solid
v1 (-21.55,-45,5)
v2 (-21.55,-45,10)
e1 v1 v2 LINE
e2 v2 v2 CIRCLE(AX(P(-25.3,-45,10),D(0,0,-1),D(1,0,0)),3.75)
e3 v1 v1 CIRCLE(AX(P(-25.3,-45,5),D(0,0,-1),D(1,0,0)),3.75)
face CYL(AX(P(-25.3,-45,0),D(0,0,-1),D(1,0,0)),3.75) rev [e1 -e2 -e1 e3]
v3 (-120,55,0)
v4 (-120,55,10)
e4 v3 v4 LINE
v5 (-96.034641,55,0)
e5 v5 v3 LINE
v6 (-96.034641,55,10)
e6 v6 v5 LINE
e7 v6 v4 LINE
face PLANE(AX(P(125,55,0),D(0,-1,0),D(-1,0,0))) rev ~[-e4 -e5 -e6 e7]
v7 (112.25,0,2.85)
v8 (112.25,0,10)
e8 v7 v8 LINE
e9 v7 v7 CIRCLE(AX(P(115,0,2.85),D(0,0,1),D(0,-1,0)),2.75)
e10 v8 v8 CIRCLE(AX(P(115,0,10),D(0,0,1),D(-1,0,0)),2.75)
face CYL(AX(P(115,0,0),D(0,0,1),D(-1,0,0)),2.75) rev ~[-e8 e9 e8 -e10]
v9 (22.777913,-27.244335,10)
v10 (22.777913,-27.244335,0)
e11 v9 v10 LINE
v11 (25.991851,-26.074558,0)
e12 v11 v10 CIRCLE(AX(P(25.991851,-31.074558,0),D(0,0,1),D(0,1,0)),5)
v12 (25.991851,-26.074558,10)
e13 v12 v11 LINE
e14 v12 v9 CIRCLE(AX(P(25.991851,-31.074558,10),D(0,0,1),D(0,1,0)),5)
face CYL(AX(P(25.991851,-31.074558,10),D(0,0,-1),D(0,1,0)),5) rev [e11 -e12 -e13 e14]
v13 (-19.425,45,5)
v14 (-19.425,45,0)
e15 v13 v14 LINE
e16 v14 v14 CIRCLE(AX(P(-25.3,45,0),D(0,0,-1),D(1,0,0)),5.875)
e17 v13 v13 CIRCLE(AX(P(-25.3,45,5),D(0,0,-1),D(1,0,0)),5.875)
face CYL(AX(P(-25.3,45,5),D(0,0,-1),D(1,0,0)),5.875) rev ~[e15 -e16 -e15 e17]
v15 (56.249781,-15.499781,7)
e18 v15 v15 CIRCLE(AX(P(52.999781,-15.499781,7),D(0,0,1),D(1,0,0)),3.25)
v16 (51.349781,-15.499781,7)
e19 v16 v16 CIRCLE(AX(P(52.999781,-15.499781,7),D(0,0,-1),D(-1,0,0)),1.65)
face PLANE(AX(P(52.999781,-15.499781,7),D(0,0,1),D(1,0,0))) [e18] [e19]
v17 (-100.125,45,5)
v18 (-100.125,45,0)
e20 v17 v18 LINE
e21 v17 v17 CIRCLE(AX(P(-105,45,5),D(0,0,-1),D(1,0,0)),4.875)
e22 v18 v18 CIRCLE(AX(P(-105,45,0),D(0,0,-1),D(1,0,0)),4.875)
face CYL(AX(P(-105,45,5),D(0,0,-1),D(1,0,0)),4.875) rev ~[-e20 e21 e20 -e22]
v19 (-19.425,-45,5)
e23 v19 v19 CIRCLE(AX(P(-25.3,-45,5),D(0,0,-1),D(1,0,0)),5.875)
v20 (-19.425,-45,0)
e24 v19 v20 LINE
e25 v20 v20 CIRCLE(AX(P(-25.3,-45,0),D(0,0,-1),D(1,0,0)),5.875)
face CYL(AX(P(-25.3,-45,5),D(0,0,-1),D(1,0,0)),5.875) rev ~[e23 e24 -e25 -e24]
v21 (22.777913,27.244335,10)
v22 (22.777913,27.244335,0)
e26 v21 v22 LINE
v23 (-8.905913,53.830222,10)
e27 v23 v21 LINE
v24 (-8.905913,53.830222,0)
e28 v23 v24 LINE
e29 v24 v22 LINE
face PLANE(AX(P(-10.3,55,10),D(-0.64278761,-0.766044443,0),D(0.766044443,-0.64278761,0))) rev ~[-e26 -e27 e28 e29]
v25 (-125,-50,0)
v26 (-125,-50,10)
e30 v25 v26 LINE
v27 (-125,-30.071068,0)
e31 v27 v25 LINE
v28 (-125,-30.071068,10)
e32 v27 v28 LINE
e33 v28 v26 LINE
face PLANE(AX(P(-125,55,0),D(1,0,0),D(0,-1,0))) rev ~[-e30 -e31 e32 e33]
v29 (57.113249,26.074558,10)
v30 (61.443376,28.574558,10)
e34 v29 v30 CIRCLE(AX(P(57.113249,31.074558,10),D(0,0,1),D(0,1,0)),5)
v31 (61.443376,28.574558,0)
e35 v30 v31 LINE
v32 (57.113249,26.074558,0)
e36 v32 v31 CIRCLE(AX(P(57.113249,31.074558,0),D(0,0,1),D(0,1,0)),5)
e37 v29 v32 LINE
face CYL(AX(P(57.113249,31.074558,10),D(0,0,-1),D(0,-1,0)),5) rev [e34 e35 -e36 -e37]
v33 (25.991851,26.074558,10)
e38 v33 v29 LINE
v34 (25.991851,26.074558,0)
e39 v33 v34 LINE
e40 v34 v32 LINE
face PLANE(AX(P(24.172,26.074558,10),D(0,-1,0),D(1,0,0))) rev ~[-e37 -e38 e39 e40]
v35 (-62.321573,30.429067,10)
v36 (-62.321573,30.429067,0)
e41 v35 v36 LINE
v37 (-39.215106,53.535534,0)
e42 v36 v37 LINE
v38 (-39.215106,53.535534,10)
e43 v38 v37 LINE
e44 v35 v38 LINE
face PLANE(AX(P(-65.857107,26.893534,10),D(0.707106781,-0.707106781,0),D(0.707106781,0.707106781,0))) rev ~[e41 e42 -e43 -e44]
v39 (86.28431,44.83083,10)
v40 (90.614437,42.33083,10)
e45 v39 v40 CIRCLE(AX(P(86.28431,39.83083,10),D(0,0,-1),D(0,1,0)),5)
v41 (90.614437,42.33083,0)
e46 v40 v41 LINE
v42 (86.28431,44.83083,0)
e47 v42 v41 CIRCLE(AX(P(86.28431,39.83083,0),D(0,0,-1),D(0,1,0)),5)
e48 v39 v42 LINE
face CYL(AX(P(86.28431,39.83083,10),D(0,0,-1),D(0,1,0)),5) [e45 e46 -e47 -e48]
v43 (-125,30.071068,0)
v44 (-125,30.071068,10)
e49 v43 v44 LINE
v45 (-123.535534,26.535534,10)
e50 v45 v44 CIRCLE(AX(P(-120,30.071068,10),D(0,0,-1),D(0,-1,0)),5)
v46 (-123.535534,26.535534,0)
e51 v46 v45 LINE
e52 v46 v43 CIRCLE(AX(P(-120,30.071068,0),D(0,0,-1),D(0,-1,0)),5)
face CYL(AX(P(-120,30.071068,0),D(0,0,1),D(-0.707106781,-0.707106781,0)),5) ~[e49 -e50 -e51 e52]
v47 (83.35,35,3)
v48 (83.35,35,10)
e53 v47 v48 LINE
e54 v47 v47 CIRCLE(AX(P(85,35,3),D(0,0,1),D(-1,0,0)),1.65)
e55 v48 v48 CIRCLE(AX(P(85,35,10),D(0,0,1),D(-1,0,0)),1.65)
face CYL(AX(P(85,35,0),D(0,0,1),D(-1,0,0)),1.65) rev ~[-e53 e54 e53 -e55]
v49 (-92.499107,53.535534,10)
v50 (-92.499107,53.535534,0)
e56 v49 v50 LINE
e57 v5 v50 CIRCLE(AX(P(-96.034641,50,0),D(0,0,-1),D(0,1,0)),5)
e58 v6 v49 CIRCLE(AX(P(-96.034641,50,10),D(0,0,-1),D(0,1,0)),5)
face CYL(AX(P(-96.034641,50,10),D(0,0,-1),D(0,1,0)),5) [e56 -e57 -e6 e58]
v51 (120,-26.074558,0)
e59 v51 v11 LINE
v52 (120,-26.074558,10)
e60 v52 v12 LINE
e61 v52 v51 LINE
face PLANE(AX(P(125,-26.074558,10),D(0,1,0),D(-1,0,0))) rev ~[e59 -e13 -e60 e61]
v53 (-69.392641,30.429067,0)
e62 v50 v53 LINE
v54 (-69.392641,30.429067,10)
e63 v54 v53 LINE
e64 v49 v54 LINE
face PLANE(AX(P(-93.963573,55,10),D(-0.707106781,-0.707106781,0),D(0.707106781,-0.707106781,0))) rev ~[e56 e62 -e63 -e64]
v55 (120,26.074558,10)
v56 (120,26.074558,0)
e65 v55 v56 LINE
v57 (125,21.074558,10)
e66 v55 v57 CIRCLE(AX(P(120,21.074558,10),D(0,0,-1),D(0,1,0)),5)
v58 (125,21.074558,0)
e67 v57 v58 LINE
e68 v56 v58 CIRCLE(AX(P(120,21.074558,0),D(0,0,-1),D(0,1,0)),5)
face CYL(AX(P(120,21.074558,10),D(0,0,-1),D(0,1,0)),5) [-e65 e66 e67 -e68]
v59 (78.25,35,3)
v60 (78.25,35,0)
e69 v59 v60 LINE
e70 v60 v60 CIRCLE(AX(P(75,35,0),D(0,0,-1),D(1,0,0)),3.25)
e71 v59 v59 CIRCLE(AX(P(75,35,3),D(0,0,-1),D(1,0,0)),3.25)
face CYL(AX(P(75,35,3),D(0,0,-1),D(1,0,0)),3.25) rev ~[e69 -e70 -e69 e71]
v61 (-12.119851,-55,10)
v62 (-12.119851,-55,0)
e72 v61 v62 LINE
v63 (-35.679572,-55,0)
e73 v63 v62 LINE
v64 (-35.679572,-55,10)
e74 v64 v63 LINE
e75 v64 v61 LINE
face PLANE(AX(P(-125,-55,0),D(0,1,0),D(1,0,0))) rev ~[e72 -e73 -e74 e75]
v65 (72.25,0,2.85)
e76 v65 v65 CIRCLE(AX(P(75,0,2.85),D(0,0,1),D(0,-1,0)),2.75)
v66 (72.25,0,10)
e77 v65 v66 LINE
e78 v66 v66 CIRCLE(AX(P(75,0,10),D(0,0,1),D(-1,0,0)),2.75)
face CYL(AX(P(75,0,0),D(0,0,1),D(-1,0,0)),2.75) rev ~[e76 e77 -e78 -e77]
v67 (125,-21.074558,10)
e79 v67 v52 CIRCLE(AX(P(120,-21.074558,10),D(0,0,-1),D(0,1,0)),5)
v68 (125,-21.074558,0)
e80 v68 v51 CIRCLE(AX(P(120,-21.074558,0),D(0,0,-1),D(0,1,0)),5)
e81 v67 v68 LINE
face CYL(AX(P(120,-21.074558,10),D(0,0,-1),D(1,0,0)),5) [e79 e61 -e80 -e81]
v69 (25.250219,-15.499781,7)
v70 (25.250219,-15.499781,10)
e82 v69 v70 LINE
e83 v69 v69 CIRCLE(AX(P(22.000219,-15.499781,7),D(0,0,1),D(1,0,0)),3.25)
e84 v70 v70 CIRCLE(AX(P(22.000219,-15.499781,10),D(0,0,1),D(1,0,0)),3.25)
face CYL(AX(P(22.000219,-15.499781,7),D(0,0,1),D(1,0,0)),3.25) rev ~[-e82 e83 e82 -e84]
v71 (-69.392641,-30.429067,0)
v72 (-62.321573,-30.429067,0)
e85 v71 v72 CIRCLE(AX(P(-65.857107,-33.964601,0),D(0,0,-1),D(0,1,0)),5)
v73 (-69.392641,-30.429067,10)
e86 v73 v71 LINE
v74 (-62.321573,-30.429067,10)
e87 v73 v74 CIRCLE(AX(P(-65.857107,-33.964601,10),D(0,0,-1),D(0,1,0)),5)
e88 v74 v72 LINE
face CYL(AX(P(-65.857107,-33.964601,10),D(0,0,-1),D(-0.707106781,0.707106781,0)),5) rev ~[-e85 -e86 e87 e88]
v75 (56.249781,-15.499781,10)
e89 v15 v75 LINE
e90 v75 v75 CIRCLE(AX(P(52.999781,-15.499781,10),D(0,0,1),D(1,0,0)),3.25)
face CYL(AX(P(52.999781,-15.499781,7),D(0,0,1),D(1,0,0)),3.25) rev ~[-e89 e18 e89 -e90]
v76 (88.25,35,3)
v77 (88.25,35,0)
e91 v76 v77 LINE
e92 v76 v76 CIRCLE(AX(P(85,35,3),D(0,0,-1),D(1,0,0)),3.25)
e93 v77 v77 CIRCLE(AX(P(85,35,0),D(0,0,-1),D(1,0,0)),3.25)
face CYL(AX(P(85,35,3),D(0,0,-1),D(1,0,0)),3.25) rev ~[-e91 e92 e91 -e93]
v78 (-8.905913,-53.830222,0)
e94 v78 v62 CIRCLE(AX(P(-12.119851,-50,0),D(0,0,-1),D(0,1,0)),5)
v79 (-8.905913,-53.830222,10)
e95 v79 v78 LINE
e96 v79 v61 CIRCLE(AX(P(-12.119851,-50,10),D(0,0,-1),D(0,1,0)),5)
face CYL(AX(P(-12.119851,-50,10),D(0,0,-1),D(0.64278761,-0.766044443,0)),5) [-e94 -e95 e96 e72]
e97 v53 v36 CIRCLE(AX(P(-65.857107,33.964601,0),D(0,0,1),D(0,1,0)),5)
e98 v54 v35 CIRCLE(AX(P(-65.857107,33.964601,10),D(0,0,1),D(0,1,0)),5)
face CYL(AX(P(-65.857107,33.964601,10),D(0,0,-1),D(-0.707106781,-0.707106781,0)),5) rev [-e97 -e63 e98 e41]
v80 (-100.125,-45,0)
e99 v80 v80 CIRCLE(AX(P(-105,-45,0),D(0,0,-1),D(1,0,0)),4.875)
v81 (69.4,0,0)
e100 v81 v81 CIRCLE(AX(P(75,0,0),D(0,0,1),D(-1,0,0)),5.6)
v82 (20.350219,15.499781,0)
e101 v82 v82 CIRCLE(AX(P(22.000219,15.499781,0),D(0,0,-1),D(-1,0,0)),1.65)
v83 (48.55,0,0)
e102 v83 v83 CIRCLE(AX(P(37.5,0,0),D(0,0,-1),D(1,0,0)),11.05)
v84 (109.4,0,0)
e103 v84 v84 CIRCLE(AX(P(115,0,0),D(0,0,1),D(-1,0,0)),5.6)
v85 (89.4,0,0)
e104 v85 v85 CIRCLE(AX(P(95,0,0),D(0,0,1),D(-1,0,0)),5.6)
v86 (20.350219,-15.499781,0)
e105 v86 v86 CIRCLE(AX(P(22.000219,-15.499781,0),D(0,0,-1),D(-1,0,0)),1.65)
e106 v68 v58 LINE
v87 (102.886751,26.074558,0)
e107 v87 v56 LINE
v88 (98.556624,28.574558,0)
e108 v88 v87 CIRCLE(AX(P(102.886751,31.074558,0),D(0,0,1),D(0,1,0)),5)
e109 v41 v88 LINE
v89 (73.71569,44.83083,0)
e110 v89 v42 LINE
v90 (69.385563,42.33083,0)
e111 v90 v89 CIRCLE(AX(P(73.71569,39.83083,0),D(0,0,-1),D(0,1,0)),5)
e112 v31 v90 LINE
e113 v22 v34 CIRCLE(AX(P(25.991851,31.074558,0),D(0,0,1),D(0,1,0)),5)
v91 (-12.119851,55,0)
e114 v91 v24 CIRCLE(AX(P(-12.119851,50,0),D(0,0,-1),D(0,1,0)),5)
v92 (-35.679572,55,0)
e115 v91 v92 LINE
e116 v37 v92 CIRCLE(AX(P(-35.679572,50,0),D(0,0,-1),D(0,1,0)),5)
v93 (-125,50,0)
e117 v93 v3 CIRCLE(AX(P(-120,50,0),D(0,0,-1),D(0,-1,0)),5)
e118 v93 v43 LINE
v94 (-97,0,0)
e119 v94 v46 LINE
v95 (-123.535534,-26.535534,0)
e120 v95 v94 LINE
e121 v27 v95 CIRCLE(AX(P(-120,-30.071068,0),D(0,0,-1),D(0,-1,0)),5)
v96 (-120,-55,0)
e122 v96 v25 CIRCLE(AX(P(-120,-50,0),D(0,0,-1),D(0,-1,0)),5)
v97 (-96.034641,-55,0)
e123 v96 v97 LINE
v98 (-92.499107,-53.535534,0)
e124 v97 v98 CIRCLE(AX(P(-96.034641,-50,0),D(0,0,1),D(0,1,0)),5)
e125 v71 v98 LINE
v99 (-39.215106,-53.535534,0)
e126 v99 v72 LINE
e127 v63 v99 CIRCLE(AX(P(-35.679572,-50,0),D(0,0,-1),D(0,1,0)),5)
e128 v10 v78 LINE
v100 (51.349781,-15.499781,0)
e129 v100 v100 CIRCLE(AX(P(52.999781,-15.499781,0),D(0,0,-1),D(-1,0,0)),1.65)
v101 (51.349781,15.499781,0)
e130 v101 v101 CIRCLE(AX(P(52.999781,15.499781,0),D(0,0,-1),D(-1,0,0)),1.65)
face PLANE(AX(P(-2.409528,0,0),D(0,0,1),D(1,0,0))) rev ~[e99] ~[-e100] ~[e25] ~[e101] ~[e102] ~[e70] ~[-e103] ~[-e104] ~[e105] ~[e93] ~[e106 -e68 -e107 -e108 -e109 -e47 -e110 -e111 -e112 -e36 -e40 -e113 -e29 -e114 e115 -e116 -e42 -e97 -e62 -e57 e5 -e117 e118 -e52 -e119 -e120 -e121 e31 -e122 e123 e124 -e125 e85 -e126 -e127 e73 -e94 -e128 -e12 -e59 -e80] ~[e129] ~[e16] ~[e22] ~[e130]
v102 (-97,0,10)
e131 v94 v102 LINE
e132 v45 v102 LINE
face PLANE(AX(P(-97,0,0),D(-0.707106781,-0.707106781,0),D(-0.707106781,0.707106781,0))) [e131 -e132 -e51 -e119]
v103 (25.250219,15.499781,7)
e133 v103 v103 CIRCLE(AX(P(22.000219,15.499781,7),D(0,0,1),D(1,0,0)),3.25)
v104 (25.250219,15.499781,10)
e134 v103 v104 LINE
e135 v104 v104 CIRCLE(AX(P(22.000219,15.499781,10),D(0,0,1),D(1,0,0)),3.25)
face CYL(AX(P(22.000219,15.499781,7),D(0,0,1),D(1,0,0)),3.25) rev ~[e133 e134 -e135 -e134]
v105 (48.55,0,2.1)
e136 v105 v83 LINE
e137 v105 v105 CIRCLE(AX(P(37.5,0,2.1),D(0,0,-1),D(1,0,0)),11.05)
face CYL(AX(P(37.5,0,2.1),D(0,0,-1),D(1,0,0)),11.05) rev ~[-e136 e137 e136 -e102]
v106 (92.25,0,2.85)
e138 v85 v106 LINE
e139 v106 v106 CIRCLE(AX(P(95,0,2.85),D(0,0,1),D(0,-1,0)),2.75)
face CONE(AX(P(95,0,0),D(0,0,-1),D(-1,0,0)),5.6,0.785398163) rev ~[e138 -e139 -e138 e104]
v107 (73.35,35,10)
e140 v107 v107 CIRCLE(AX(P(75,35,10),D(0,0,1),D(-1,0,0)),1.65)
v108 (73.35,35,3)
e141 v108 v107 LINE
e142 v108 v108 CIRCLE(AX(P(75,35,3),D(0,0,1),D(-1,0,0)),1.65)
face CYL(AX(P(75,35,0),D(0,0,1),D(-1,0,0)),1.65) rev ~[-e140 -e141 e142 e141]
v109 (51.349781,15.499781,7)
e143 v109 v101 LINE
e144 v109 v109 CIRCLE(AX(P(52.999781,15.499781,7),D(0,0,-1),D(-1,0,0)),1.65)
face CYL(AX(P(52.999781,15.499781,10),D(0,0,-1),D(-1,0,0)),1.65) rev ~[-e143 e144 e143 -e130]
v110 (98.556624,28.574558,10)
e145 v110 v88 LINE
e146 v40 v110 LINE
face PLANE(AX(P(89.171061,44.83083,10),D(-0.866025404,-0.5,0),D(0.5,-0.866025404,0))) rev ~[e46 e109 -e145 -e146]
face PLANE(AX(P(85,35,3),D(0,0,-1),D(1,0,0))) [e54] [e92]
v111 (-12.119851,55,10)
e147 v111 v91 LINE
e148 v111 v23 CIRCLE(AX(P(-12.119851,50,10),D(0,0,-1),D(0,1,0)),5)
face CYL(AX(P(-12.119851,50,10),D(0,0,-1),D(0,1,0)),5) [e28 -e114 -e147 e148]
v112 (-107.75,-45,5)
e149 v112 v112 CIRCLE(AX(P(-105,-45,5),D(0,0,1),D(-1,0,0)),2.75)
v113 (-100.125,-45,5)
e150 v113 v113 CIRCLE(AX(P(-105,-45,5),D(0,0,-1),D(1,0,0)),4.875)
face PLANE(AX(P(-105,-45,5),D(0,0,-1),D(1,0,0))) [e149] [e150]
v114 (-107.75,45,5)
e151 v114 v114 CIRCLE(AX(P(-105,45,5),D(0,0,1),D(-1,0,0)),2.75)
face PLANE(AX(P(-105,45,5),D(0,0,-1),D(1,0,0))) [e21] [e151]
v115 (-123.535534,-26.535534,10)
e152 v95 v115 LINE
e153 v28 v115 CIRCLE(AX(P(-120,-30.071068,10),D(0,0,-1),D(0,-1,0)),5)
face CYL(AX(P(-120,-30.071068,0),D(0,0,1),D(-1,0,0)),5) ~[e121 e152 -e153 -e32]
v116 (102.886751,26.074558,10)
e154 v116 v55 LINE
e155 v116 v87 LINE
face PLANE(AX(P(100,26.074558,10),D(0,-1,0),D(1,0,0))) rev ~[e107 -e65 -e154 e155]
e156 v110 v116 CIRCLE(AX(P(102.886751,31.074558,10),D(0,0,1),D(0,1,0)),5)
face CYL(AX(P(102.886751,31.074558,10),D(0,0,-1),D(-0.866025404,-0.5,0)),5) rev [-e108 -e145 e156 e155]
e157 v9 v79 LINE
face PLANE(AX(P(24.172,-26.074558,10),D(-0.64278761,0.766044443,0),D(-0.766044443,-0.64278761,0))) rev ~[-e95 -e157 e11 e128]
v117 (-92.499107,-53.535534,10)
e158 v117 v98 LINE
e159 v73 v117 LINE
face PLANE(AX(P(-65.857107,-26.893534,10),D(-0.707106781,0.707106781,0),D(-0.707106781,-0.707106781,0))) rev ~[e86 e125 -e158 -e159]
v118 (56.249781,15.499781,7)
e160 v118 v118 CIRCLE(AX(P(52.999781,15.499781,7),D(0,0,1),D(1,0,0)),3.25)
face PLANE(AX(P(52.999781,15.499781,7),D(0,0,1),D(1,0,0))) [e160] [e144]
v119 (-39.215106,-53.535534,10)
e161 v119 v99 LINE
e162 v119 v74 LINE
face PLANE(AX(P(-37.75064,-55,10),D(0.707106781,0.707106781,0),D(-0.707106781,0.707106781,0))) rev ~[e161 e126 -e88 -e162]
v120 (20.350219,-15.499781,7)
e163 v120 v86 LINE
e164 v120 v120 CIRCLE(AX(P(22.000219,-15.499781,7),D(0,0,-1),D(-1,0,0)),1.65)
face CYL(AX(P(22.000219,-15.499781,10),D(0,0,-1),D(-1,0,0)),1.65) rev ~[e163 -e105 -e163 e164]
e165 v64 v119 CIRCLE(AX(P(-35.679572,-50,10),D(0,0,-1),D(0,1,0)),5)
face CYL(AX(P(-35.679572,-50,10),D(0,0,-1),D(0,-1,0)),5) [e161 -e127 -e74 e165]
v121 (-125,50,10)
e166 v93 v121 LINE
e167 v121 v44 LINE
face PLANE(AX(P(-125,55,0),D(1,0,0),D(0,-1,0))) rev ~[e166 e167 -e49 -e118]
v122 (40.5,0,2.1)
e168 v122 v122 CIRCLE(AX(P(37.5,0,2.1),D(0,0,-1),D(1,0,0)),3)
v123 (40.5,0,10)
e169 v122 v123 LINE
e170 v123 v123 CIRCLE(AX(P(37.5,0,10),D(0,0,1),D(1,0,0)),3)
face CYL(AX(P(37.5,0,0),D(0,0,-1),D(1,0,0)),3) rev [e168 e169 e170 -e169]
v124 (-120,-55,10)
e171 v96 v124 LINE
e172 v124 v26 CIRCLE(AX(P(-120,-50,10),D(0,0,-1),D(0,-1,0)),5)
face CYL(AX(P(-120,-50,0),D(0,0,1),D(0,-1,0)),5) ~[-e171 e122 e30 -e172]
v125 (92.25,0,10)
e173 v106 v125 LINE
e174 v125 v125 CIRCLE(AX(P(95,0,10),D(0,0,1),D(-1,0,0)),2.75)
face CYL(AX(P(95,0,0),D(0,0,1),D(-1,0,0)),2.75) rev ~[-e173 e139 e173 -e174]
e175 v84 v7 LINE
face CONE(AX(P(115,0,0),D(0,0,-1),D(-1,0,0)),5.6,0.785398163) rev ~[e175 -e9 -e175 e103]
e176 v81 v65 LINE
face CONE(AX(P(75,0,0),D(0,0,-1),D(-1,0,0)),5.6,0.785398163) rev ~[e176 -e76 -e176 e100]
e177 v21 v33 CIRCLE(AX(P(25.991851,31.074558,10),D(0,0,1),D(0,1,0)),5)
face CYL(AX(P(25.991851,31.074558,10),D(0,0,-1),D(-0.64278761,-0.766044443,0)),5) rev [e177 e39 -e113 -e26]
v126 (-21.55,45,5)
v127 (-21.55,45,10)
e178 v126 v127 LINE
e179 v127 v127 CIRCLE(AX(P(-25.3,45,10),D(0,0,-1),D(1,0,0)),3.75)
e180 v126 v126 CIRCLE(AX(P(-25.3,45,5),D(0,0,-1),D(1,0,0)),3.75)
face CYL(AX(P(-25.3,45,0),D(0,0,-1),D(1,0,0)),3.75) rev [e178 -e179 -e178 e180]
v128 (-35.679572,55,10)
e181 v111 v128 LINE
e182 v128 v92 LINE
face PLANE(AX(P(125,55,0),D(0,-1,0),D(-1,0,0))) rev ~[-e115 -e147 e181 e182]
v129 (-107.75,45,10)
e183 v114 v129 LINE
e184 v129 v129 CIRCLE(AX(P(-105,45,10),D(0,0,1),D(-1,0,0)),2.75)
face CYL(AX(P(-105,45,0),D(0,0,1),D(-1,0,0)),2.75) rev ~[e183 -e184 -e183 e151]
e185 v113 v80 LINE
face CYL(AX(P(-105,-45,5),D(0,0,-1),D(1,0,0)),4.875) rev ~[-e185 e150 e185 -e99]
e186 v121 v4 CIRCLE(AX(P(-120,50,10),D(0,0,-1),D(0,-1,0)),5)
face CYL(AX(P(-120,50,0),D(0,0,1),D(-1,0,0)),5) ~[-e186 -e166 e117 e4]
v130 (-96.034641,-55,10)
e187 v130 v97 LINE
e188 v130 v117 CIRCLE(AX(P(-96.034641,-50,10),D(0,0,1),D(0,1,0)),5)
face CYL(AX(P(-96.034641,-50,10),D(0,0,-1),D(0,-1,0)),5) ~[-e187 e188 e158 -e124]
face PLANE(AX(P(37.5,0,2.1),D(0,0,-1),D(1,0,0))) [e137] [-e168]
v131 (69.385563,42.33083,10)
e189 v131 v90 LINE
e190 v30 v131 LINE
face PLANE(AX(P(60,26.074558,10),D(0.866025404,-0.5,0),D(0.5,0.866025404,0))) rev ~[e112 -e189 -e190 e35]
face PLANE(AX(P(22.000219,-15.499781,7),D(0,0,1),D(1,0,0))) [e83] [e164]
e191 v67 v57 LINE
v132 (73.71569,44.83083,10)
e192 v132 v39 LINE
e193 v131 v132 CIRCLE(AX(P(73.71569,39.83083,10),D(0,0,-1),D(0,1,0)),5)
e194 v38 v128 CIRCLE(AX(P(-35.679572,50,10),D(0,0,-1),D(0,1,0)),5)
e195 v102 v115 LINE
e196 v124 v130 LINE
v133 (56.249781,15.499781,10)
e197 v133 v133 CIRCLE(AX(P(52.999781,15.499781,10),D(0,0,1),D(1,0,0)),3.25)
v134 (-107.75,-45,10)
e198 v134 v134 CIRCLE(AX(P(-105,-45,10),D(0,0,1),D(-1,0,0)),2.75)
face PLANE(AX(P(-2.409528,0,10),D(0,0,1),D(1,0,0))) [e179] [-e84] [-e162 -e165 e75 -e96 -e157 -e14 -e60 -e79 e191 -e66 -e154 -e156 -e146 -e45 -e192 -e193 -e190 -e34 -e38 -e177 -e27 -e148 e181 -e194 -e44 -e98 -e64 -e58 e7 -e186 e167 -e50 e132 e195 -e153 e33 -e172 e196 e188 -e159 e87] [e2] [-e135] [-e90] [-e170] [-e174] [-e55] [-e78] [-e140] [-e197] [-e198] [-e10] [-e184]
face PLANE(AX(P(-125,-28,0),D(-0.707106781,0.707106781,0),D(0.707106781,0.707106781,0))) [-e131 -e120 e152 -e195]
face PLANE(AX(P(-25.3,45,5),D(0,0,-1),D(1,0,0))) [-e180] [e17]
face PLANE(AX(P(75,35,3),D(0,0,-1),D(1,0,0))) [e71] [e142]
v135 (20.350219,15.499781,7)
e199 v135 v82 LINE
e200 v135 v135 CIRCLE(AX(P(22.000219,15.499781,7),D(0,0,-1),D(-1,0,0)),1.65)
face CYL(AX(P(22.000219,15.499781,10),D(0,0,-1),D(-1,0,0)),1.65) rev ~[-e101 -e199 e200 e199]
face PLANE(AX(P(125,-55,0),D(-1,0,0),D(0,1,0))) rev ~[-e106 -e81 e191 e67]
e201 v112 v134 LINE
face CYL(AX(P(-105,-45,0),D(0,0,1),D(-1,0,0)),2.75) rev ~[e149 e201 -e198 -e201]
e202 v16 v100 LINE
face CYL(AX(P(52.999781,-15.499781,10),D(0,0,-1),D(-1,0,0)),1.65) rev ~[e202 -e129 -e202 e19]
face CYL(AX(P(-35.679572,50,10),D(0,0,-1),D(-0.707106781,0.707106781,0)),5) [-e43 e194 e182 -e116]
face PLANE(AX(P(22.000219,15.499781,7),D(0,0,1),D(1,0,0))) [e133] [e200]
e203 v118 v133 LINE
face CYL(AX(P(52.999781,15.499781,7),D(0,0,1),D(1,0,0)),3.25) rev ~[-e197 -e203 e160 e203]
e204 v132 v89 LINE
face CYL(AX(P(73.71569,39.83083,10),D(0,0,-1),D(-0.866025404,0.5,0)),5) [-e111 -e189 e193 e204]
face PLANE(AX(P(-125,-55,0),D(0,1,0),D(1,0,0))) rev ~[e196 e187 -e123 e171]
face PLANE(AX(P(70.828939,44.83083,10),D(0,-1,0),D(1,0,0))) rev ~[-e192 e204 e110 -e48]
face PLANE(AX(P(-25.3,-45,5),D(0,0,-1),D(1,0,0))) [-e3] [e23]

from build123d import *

# Parameters (mm, degrees)
F0_R            = 2.65
F0_R_2          = 3.75
F0_R_3          = 1.6
F0_R_4          = 3
F1_DEPTH        = 10
F2_D            = 5.5
F2_CSINK_D      = 11.2
F2_CSINK_ANGLE  = 90
F3_D            = 5.5
F3_CBORE_D      = 22.1
F3_CBORE_DEPTH  = 2.1
F4_DEPTH        = 10.001
F5_D            = 3.3
F5_CBORE_D      = 6.5
F5_CBORE_DEPTH  = 3
F6_D            = 7.5
F6_CBORE_D      = 11.75
F6_CBORE_DEPTH  = 5
F9_D            = 3.3
F9_CBORE_D      = 6.5
F9_CBORE_DEPTH  = 3
F10_D           = 5.5
F10_CBORE_D     = 9.75
F10_CBORE_DEPTH = 5
F12_DEPTH       = 25
F13_R           = 5


with BuildPart() as f1:
    # F0 (on Top) → F1 (new body)
    with BuildSketch(Plane.XY):
        Polygon((-125, -55), (125, -55), (125, 55), (-125, 55), (-125, 28), (-97, 0), (-125, -28), align=None)
        with Locations((-105, -45)):
            Circle(F0_R, mode=Mode.SUBTRACT)
        with Locations((-25.3, -45)):
            Circle(F0_R_2, mode=Mode.SUBTRACT)
        with Locations((22.0002193564, -15.4997806436)):
            Circle(F0_R_3, mode=Mode.SUBTRACT)
        with Locations((52.9997806436, -15.4997806436)):
            Circle(F0_R_3, mode=Mode.SUBTRACT)
        with Locations((-105, 45)):
            Circle(F0_R, mode=Mode.SUBTRACT)
        with Locations((-25.3, 45)):
            Circle(F0_R_2, mode=Mode.SUBTRACT)
        with Locations((37.5, 0)):
            Circle(F0_R_4, mode=Mode.SUBTRACT)
        with Locations((22.0002193564, 15.4997806436)):
            Circle(F0_R_3, mode=Mode.SUBTRACT)
        with Locations((52.9997806436, 15.4997806436)):
            Circle(F0_R_3, mode=Mode.SUBTRACT)
        with Locations((75, 0)):
            Circle(F0_R, mode=Mode.SUBTRACT)
        with Locations((95, 0)):
            Circle(F0_R, mode=Mode.SUBTRACT)
        with Locations((115, 0)):
            Circle(F0_R, mode=Mode.SUBTRACT)
        with Locations((75, 35)):
            Circle(F0_R_3, mode=Mode.SUBTRACT)
        with Locations((85, 35)):
            Circle(F0_R_3, mode=Mode.SUBTRACT)
        Polygon((-125, 28), (-125, -28), (-97, 0), align=None)
    extrude(amount=F1_DEPTH)

    # F2 (through all)
    with Locations(Plane(origin=(0, 0, 0), x_dir=(1, 0, 0), z_dir=(0, 0, -1))):
        with Locations((75, 0), (95, 0), (115, 0)):
            CounterSinkHole(F2_D / 2, F2_CSINK_D / 2, counter_sink_angle=F2_CSINK_ANGLE)

    # F3 (through all)
    with Locations(Plane(origin=(0, 0, 0), x_dir=(1, 0, 0), z_dir=(0, 0, -1))):
        with Locations((37.5, 0)):
            CounterBoreHole(F3_D / 2, F3_CBORE_D / 2, F3_CBORE_DEPTH)

    # F0 (on Top) → F4 (cut, through all)
    with BuildSketch(Plane.XY):
        Polygon((-125, 28), (-125, -28), (-97, 0), align=None)
    extrude(amount=F4_DEPTH, mode=Mode.SUBTRACT)

    # F5 (through all)
    with Locations(Plane(origin=(0, 0, 0), x_dir=(1, 0, 0), z_dir=(0, 0, -1))):
        with Locations((75, -35), (85, -35)):
            CounterBoreHole(F5_D / 2, F5_CBORE_D / 2, F5_CBORE_DEPTH)

    # F6 (through all)
    with Locations(Plane(origin=(0, 0, 0), x_dir=(1, 0, 0), z_dir=(0, 0, -1))):
        with Locations((-25.3, 45), (-25.3, -45)):
            CounterBoreHole(F6_D / 2, F6_CBORE_D / 2, F6_CBORE_DEPTH)

    # F9 (through all)
    with Locations(Plane.XY.offset(10)):
        with Locations((52.9997806436, 15.4997806436), (52.9997806436, -15.4997806436), (22.0002193564, -15.4997806436), (22.0002193564, 15.4997806436)):
            CounterBoreHole(F9_D / 2, F9_CBORE_D / 2, F9_CBORE_DEPTH)

    # F10 (through all)
    with Locations(Plane(origin=(0, 0, 0), x_dir=(1, 0, 0), z_dir=(0, 0, -1))):
        with Locations((-105, 45), (-105, -45)):
            CounterBoreHole(F10_D / 2, F10_CBORE_D / 2, F10_CBORE_DEPTH)

    # F11 (on offset) → F12 (cut)
    with BuildSketch(Plane.XY.offset(10)):
        Polygon((125, 55), (-10.3, 55), (24.1719999404, 26.0745575641), (60, 26.0745575641), (70.8289389059, 44.8308299412), (89.1710610941, 44.8308299412), (100, 26.0745575641), (125, 26.0745575641), align=None)
        Polygon((125, -55), (125, -26.0745575641), (24.1719999404, -26.0745575641), (-10.3, -55), align=None)
        Polygon((-65.8571067812, -26.8935335215), (-93.9635732597, -55), (-37.7506403027, -55), align=None)
        Polygon((-37.7506403027, 55), (-93.9635732597, 55), (-65.8571067812, 26.8935335215), align=None)
    extrude(amount=-F12_DEPTH, mode=Mode.SUBTRACT)

    # F13
    f13_edges = [f1.edges().sort_by_distance(p)[0] for p in [
        (-125, -28, 5),
        (-125, -55, 5),
        (-125, 28, 5),
        (-125, 55, 5),
        (24.172, -26.074558, 5),
        (-10.3, -55, 5),
        (125, -26.074558, 5),
        (125, 26.074558, 5),
        (100, 26.074558, 5),
        (89.171061, 44.83083, 5),
        (70.828939, 44.83083, 5),
        (60, 26.074558, 5),
        (24.172, 26.074558, 5),
        (-10.3, 55, 5),
        (-65.857107, -26.893534, 5),
        (-65.857107, 26.893534, 5),
        (-93.963573, -55, 5),
        (-37.75064, -55, 5),
        (-37.75064, 55, 5),
        (-93.963573, 55, 5),
    ]]
    fillet(f13_edges, radius=F13_R)


solid = f1.part
